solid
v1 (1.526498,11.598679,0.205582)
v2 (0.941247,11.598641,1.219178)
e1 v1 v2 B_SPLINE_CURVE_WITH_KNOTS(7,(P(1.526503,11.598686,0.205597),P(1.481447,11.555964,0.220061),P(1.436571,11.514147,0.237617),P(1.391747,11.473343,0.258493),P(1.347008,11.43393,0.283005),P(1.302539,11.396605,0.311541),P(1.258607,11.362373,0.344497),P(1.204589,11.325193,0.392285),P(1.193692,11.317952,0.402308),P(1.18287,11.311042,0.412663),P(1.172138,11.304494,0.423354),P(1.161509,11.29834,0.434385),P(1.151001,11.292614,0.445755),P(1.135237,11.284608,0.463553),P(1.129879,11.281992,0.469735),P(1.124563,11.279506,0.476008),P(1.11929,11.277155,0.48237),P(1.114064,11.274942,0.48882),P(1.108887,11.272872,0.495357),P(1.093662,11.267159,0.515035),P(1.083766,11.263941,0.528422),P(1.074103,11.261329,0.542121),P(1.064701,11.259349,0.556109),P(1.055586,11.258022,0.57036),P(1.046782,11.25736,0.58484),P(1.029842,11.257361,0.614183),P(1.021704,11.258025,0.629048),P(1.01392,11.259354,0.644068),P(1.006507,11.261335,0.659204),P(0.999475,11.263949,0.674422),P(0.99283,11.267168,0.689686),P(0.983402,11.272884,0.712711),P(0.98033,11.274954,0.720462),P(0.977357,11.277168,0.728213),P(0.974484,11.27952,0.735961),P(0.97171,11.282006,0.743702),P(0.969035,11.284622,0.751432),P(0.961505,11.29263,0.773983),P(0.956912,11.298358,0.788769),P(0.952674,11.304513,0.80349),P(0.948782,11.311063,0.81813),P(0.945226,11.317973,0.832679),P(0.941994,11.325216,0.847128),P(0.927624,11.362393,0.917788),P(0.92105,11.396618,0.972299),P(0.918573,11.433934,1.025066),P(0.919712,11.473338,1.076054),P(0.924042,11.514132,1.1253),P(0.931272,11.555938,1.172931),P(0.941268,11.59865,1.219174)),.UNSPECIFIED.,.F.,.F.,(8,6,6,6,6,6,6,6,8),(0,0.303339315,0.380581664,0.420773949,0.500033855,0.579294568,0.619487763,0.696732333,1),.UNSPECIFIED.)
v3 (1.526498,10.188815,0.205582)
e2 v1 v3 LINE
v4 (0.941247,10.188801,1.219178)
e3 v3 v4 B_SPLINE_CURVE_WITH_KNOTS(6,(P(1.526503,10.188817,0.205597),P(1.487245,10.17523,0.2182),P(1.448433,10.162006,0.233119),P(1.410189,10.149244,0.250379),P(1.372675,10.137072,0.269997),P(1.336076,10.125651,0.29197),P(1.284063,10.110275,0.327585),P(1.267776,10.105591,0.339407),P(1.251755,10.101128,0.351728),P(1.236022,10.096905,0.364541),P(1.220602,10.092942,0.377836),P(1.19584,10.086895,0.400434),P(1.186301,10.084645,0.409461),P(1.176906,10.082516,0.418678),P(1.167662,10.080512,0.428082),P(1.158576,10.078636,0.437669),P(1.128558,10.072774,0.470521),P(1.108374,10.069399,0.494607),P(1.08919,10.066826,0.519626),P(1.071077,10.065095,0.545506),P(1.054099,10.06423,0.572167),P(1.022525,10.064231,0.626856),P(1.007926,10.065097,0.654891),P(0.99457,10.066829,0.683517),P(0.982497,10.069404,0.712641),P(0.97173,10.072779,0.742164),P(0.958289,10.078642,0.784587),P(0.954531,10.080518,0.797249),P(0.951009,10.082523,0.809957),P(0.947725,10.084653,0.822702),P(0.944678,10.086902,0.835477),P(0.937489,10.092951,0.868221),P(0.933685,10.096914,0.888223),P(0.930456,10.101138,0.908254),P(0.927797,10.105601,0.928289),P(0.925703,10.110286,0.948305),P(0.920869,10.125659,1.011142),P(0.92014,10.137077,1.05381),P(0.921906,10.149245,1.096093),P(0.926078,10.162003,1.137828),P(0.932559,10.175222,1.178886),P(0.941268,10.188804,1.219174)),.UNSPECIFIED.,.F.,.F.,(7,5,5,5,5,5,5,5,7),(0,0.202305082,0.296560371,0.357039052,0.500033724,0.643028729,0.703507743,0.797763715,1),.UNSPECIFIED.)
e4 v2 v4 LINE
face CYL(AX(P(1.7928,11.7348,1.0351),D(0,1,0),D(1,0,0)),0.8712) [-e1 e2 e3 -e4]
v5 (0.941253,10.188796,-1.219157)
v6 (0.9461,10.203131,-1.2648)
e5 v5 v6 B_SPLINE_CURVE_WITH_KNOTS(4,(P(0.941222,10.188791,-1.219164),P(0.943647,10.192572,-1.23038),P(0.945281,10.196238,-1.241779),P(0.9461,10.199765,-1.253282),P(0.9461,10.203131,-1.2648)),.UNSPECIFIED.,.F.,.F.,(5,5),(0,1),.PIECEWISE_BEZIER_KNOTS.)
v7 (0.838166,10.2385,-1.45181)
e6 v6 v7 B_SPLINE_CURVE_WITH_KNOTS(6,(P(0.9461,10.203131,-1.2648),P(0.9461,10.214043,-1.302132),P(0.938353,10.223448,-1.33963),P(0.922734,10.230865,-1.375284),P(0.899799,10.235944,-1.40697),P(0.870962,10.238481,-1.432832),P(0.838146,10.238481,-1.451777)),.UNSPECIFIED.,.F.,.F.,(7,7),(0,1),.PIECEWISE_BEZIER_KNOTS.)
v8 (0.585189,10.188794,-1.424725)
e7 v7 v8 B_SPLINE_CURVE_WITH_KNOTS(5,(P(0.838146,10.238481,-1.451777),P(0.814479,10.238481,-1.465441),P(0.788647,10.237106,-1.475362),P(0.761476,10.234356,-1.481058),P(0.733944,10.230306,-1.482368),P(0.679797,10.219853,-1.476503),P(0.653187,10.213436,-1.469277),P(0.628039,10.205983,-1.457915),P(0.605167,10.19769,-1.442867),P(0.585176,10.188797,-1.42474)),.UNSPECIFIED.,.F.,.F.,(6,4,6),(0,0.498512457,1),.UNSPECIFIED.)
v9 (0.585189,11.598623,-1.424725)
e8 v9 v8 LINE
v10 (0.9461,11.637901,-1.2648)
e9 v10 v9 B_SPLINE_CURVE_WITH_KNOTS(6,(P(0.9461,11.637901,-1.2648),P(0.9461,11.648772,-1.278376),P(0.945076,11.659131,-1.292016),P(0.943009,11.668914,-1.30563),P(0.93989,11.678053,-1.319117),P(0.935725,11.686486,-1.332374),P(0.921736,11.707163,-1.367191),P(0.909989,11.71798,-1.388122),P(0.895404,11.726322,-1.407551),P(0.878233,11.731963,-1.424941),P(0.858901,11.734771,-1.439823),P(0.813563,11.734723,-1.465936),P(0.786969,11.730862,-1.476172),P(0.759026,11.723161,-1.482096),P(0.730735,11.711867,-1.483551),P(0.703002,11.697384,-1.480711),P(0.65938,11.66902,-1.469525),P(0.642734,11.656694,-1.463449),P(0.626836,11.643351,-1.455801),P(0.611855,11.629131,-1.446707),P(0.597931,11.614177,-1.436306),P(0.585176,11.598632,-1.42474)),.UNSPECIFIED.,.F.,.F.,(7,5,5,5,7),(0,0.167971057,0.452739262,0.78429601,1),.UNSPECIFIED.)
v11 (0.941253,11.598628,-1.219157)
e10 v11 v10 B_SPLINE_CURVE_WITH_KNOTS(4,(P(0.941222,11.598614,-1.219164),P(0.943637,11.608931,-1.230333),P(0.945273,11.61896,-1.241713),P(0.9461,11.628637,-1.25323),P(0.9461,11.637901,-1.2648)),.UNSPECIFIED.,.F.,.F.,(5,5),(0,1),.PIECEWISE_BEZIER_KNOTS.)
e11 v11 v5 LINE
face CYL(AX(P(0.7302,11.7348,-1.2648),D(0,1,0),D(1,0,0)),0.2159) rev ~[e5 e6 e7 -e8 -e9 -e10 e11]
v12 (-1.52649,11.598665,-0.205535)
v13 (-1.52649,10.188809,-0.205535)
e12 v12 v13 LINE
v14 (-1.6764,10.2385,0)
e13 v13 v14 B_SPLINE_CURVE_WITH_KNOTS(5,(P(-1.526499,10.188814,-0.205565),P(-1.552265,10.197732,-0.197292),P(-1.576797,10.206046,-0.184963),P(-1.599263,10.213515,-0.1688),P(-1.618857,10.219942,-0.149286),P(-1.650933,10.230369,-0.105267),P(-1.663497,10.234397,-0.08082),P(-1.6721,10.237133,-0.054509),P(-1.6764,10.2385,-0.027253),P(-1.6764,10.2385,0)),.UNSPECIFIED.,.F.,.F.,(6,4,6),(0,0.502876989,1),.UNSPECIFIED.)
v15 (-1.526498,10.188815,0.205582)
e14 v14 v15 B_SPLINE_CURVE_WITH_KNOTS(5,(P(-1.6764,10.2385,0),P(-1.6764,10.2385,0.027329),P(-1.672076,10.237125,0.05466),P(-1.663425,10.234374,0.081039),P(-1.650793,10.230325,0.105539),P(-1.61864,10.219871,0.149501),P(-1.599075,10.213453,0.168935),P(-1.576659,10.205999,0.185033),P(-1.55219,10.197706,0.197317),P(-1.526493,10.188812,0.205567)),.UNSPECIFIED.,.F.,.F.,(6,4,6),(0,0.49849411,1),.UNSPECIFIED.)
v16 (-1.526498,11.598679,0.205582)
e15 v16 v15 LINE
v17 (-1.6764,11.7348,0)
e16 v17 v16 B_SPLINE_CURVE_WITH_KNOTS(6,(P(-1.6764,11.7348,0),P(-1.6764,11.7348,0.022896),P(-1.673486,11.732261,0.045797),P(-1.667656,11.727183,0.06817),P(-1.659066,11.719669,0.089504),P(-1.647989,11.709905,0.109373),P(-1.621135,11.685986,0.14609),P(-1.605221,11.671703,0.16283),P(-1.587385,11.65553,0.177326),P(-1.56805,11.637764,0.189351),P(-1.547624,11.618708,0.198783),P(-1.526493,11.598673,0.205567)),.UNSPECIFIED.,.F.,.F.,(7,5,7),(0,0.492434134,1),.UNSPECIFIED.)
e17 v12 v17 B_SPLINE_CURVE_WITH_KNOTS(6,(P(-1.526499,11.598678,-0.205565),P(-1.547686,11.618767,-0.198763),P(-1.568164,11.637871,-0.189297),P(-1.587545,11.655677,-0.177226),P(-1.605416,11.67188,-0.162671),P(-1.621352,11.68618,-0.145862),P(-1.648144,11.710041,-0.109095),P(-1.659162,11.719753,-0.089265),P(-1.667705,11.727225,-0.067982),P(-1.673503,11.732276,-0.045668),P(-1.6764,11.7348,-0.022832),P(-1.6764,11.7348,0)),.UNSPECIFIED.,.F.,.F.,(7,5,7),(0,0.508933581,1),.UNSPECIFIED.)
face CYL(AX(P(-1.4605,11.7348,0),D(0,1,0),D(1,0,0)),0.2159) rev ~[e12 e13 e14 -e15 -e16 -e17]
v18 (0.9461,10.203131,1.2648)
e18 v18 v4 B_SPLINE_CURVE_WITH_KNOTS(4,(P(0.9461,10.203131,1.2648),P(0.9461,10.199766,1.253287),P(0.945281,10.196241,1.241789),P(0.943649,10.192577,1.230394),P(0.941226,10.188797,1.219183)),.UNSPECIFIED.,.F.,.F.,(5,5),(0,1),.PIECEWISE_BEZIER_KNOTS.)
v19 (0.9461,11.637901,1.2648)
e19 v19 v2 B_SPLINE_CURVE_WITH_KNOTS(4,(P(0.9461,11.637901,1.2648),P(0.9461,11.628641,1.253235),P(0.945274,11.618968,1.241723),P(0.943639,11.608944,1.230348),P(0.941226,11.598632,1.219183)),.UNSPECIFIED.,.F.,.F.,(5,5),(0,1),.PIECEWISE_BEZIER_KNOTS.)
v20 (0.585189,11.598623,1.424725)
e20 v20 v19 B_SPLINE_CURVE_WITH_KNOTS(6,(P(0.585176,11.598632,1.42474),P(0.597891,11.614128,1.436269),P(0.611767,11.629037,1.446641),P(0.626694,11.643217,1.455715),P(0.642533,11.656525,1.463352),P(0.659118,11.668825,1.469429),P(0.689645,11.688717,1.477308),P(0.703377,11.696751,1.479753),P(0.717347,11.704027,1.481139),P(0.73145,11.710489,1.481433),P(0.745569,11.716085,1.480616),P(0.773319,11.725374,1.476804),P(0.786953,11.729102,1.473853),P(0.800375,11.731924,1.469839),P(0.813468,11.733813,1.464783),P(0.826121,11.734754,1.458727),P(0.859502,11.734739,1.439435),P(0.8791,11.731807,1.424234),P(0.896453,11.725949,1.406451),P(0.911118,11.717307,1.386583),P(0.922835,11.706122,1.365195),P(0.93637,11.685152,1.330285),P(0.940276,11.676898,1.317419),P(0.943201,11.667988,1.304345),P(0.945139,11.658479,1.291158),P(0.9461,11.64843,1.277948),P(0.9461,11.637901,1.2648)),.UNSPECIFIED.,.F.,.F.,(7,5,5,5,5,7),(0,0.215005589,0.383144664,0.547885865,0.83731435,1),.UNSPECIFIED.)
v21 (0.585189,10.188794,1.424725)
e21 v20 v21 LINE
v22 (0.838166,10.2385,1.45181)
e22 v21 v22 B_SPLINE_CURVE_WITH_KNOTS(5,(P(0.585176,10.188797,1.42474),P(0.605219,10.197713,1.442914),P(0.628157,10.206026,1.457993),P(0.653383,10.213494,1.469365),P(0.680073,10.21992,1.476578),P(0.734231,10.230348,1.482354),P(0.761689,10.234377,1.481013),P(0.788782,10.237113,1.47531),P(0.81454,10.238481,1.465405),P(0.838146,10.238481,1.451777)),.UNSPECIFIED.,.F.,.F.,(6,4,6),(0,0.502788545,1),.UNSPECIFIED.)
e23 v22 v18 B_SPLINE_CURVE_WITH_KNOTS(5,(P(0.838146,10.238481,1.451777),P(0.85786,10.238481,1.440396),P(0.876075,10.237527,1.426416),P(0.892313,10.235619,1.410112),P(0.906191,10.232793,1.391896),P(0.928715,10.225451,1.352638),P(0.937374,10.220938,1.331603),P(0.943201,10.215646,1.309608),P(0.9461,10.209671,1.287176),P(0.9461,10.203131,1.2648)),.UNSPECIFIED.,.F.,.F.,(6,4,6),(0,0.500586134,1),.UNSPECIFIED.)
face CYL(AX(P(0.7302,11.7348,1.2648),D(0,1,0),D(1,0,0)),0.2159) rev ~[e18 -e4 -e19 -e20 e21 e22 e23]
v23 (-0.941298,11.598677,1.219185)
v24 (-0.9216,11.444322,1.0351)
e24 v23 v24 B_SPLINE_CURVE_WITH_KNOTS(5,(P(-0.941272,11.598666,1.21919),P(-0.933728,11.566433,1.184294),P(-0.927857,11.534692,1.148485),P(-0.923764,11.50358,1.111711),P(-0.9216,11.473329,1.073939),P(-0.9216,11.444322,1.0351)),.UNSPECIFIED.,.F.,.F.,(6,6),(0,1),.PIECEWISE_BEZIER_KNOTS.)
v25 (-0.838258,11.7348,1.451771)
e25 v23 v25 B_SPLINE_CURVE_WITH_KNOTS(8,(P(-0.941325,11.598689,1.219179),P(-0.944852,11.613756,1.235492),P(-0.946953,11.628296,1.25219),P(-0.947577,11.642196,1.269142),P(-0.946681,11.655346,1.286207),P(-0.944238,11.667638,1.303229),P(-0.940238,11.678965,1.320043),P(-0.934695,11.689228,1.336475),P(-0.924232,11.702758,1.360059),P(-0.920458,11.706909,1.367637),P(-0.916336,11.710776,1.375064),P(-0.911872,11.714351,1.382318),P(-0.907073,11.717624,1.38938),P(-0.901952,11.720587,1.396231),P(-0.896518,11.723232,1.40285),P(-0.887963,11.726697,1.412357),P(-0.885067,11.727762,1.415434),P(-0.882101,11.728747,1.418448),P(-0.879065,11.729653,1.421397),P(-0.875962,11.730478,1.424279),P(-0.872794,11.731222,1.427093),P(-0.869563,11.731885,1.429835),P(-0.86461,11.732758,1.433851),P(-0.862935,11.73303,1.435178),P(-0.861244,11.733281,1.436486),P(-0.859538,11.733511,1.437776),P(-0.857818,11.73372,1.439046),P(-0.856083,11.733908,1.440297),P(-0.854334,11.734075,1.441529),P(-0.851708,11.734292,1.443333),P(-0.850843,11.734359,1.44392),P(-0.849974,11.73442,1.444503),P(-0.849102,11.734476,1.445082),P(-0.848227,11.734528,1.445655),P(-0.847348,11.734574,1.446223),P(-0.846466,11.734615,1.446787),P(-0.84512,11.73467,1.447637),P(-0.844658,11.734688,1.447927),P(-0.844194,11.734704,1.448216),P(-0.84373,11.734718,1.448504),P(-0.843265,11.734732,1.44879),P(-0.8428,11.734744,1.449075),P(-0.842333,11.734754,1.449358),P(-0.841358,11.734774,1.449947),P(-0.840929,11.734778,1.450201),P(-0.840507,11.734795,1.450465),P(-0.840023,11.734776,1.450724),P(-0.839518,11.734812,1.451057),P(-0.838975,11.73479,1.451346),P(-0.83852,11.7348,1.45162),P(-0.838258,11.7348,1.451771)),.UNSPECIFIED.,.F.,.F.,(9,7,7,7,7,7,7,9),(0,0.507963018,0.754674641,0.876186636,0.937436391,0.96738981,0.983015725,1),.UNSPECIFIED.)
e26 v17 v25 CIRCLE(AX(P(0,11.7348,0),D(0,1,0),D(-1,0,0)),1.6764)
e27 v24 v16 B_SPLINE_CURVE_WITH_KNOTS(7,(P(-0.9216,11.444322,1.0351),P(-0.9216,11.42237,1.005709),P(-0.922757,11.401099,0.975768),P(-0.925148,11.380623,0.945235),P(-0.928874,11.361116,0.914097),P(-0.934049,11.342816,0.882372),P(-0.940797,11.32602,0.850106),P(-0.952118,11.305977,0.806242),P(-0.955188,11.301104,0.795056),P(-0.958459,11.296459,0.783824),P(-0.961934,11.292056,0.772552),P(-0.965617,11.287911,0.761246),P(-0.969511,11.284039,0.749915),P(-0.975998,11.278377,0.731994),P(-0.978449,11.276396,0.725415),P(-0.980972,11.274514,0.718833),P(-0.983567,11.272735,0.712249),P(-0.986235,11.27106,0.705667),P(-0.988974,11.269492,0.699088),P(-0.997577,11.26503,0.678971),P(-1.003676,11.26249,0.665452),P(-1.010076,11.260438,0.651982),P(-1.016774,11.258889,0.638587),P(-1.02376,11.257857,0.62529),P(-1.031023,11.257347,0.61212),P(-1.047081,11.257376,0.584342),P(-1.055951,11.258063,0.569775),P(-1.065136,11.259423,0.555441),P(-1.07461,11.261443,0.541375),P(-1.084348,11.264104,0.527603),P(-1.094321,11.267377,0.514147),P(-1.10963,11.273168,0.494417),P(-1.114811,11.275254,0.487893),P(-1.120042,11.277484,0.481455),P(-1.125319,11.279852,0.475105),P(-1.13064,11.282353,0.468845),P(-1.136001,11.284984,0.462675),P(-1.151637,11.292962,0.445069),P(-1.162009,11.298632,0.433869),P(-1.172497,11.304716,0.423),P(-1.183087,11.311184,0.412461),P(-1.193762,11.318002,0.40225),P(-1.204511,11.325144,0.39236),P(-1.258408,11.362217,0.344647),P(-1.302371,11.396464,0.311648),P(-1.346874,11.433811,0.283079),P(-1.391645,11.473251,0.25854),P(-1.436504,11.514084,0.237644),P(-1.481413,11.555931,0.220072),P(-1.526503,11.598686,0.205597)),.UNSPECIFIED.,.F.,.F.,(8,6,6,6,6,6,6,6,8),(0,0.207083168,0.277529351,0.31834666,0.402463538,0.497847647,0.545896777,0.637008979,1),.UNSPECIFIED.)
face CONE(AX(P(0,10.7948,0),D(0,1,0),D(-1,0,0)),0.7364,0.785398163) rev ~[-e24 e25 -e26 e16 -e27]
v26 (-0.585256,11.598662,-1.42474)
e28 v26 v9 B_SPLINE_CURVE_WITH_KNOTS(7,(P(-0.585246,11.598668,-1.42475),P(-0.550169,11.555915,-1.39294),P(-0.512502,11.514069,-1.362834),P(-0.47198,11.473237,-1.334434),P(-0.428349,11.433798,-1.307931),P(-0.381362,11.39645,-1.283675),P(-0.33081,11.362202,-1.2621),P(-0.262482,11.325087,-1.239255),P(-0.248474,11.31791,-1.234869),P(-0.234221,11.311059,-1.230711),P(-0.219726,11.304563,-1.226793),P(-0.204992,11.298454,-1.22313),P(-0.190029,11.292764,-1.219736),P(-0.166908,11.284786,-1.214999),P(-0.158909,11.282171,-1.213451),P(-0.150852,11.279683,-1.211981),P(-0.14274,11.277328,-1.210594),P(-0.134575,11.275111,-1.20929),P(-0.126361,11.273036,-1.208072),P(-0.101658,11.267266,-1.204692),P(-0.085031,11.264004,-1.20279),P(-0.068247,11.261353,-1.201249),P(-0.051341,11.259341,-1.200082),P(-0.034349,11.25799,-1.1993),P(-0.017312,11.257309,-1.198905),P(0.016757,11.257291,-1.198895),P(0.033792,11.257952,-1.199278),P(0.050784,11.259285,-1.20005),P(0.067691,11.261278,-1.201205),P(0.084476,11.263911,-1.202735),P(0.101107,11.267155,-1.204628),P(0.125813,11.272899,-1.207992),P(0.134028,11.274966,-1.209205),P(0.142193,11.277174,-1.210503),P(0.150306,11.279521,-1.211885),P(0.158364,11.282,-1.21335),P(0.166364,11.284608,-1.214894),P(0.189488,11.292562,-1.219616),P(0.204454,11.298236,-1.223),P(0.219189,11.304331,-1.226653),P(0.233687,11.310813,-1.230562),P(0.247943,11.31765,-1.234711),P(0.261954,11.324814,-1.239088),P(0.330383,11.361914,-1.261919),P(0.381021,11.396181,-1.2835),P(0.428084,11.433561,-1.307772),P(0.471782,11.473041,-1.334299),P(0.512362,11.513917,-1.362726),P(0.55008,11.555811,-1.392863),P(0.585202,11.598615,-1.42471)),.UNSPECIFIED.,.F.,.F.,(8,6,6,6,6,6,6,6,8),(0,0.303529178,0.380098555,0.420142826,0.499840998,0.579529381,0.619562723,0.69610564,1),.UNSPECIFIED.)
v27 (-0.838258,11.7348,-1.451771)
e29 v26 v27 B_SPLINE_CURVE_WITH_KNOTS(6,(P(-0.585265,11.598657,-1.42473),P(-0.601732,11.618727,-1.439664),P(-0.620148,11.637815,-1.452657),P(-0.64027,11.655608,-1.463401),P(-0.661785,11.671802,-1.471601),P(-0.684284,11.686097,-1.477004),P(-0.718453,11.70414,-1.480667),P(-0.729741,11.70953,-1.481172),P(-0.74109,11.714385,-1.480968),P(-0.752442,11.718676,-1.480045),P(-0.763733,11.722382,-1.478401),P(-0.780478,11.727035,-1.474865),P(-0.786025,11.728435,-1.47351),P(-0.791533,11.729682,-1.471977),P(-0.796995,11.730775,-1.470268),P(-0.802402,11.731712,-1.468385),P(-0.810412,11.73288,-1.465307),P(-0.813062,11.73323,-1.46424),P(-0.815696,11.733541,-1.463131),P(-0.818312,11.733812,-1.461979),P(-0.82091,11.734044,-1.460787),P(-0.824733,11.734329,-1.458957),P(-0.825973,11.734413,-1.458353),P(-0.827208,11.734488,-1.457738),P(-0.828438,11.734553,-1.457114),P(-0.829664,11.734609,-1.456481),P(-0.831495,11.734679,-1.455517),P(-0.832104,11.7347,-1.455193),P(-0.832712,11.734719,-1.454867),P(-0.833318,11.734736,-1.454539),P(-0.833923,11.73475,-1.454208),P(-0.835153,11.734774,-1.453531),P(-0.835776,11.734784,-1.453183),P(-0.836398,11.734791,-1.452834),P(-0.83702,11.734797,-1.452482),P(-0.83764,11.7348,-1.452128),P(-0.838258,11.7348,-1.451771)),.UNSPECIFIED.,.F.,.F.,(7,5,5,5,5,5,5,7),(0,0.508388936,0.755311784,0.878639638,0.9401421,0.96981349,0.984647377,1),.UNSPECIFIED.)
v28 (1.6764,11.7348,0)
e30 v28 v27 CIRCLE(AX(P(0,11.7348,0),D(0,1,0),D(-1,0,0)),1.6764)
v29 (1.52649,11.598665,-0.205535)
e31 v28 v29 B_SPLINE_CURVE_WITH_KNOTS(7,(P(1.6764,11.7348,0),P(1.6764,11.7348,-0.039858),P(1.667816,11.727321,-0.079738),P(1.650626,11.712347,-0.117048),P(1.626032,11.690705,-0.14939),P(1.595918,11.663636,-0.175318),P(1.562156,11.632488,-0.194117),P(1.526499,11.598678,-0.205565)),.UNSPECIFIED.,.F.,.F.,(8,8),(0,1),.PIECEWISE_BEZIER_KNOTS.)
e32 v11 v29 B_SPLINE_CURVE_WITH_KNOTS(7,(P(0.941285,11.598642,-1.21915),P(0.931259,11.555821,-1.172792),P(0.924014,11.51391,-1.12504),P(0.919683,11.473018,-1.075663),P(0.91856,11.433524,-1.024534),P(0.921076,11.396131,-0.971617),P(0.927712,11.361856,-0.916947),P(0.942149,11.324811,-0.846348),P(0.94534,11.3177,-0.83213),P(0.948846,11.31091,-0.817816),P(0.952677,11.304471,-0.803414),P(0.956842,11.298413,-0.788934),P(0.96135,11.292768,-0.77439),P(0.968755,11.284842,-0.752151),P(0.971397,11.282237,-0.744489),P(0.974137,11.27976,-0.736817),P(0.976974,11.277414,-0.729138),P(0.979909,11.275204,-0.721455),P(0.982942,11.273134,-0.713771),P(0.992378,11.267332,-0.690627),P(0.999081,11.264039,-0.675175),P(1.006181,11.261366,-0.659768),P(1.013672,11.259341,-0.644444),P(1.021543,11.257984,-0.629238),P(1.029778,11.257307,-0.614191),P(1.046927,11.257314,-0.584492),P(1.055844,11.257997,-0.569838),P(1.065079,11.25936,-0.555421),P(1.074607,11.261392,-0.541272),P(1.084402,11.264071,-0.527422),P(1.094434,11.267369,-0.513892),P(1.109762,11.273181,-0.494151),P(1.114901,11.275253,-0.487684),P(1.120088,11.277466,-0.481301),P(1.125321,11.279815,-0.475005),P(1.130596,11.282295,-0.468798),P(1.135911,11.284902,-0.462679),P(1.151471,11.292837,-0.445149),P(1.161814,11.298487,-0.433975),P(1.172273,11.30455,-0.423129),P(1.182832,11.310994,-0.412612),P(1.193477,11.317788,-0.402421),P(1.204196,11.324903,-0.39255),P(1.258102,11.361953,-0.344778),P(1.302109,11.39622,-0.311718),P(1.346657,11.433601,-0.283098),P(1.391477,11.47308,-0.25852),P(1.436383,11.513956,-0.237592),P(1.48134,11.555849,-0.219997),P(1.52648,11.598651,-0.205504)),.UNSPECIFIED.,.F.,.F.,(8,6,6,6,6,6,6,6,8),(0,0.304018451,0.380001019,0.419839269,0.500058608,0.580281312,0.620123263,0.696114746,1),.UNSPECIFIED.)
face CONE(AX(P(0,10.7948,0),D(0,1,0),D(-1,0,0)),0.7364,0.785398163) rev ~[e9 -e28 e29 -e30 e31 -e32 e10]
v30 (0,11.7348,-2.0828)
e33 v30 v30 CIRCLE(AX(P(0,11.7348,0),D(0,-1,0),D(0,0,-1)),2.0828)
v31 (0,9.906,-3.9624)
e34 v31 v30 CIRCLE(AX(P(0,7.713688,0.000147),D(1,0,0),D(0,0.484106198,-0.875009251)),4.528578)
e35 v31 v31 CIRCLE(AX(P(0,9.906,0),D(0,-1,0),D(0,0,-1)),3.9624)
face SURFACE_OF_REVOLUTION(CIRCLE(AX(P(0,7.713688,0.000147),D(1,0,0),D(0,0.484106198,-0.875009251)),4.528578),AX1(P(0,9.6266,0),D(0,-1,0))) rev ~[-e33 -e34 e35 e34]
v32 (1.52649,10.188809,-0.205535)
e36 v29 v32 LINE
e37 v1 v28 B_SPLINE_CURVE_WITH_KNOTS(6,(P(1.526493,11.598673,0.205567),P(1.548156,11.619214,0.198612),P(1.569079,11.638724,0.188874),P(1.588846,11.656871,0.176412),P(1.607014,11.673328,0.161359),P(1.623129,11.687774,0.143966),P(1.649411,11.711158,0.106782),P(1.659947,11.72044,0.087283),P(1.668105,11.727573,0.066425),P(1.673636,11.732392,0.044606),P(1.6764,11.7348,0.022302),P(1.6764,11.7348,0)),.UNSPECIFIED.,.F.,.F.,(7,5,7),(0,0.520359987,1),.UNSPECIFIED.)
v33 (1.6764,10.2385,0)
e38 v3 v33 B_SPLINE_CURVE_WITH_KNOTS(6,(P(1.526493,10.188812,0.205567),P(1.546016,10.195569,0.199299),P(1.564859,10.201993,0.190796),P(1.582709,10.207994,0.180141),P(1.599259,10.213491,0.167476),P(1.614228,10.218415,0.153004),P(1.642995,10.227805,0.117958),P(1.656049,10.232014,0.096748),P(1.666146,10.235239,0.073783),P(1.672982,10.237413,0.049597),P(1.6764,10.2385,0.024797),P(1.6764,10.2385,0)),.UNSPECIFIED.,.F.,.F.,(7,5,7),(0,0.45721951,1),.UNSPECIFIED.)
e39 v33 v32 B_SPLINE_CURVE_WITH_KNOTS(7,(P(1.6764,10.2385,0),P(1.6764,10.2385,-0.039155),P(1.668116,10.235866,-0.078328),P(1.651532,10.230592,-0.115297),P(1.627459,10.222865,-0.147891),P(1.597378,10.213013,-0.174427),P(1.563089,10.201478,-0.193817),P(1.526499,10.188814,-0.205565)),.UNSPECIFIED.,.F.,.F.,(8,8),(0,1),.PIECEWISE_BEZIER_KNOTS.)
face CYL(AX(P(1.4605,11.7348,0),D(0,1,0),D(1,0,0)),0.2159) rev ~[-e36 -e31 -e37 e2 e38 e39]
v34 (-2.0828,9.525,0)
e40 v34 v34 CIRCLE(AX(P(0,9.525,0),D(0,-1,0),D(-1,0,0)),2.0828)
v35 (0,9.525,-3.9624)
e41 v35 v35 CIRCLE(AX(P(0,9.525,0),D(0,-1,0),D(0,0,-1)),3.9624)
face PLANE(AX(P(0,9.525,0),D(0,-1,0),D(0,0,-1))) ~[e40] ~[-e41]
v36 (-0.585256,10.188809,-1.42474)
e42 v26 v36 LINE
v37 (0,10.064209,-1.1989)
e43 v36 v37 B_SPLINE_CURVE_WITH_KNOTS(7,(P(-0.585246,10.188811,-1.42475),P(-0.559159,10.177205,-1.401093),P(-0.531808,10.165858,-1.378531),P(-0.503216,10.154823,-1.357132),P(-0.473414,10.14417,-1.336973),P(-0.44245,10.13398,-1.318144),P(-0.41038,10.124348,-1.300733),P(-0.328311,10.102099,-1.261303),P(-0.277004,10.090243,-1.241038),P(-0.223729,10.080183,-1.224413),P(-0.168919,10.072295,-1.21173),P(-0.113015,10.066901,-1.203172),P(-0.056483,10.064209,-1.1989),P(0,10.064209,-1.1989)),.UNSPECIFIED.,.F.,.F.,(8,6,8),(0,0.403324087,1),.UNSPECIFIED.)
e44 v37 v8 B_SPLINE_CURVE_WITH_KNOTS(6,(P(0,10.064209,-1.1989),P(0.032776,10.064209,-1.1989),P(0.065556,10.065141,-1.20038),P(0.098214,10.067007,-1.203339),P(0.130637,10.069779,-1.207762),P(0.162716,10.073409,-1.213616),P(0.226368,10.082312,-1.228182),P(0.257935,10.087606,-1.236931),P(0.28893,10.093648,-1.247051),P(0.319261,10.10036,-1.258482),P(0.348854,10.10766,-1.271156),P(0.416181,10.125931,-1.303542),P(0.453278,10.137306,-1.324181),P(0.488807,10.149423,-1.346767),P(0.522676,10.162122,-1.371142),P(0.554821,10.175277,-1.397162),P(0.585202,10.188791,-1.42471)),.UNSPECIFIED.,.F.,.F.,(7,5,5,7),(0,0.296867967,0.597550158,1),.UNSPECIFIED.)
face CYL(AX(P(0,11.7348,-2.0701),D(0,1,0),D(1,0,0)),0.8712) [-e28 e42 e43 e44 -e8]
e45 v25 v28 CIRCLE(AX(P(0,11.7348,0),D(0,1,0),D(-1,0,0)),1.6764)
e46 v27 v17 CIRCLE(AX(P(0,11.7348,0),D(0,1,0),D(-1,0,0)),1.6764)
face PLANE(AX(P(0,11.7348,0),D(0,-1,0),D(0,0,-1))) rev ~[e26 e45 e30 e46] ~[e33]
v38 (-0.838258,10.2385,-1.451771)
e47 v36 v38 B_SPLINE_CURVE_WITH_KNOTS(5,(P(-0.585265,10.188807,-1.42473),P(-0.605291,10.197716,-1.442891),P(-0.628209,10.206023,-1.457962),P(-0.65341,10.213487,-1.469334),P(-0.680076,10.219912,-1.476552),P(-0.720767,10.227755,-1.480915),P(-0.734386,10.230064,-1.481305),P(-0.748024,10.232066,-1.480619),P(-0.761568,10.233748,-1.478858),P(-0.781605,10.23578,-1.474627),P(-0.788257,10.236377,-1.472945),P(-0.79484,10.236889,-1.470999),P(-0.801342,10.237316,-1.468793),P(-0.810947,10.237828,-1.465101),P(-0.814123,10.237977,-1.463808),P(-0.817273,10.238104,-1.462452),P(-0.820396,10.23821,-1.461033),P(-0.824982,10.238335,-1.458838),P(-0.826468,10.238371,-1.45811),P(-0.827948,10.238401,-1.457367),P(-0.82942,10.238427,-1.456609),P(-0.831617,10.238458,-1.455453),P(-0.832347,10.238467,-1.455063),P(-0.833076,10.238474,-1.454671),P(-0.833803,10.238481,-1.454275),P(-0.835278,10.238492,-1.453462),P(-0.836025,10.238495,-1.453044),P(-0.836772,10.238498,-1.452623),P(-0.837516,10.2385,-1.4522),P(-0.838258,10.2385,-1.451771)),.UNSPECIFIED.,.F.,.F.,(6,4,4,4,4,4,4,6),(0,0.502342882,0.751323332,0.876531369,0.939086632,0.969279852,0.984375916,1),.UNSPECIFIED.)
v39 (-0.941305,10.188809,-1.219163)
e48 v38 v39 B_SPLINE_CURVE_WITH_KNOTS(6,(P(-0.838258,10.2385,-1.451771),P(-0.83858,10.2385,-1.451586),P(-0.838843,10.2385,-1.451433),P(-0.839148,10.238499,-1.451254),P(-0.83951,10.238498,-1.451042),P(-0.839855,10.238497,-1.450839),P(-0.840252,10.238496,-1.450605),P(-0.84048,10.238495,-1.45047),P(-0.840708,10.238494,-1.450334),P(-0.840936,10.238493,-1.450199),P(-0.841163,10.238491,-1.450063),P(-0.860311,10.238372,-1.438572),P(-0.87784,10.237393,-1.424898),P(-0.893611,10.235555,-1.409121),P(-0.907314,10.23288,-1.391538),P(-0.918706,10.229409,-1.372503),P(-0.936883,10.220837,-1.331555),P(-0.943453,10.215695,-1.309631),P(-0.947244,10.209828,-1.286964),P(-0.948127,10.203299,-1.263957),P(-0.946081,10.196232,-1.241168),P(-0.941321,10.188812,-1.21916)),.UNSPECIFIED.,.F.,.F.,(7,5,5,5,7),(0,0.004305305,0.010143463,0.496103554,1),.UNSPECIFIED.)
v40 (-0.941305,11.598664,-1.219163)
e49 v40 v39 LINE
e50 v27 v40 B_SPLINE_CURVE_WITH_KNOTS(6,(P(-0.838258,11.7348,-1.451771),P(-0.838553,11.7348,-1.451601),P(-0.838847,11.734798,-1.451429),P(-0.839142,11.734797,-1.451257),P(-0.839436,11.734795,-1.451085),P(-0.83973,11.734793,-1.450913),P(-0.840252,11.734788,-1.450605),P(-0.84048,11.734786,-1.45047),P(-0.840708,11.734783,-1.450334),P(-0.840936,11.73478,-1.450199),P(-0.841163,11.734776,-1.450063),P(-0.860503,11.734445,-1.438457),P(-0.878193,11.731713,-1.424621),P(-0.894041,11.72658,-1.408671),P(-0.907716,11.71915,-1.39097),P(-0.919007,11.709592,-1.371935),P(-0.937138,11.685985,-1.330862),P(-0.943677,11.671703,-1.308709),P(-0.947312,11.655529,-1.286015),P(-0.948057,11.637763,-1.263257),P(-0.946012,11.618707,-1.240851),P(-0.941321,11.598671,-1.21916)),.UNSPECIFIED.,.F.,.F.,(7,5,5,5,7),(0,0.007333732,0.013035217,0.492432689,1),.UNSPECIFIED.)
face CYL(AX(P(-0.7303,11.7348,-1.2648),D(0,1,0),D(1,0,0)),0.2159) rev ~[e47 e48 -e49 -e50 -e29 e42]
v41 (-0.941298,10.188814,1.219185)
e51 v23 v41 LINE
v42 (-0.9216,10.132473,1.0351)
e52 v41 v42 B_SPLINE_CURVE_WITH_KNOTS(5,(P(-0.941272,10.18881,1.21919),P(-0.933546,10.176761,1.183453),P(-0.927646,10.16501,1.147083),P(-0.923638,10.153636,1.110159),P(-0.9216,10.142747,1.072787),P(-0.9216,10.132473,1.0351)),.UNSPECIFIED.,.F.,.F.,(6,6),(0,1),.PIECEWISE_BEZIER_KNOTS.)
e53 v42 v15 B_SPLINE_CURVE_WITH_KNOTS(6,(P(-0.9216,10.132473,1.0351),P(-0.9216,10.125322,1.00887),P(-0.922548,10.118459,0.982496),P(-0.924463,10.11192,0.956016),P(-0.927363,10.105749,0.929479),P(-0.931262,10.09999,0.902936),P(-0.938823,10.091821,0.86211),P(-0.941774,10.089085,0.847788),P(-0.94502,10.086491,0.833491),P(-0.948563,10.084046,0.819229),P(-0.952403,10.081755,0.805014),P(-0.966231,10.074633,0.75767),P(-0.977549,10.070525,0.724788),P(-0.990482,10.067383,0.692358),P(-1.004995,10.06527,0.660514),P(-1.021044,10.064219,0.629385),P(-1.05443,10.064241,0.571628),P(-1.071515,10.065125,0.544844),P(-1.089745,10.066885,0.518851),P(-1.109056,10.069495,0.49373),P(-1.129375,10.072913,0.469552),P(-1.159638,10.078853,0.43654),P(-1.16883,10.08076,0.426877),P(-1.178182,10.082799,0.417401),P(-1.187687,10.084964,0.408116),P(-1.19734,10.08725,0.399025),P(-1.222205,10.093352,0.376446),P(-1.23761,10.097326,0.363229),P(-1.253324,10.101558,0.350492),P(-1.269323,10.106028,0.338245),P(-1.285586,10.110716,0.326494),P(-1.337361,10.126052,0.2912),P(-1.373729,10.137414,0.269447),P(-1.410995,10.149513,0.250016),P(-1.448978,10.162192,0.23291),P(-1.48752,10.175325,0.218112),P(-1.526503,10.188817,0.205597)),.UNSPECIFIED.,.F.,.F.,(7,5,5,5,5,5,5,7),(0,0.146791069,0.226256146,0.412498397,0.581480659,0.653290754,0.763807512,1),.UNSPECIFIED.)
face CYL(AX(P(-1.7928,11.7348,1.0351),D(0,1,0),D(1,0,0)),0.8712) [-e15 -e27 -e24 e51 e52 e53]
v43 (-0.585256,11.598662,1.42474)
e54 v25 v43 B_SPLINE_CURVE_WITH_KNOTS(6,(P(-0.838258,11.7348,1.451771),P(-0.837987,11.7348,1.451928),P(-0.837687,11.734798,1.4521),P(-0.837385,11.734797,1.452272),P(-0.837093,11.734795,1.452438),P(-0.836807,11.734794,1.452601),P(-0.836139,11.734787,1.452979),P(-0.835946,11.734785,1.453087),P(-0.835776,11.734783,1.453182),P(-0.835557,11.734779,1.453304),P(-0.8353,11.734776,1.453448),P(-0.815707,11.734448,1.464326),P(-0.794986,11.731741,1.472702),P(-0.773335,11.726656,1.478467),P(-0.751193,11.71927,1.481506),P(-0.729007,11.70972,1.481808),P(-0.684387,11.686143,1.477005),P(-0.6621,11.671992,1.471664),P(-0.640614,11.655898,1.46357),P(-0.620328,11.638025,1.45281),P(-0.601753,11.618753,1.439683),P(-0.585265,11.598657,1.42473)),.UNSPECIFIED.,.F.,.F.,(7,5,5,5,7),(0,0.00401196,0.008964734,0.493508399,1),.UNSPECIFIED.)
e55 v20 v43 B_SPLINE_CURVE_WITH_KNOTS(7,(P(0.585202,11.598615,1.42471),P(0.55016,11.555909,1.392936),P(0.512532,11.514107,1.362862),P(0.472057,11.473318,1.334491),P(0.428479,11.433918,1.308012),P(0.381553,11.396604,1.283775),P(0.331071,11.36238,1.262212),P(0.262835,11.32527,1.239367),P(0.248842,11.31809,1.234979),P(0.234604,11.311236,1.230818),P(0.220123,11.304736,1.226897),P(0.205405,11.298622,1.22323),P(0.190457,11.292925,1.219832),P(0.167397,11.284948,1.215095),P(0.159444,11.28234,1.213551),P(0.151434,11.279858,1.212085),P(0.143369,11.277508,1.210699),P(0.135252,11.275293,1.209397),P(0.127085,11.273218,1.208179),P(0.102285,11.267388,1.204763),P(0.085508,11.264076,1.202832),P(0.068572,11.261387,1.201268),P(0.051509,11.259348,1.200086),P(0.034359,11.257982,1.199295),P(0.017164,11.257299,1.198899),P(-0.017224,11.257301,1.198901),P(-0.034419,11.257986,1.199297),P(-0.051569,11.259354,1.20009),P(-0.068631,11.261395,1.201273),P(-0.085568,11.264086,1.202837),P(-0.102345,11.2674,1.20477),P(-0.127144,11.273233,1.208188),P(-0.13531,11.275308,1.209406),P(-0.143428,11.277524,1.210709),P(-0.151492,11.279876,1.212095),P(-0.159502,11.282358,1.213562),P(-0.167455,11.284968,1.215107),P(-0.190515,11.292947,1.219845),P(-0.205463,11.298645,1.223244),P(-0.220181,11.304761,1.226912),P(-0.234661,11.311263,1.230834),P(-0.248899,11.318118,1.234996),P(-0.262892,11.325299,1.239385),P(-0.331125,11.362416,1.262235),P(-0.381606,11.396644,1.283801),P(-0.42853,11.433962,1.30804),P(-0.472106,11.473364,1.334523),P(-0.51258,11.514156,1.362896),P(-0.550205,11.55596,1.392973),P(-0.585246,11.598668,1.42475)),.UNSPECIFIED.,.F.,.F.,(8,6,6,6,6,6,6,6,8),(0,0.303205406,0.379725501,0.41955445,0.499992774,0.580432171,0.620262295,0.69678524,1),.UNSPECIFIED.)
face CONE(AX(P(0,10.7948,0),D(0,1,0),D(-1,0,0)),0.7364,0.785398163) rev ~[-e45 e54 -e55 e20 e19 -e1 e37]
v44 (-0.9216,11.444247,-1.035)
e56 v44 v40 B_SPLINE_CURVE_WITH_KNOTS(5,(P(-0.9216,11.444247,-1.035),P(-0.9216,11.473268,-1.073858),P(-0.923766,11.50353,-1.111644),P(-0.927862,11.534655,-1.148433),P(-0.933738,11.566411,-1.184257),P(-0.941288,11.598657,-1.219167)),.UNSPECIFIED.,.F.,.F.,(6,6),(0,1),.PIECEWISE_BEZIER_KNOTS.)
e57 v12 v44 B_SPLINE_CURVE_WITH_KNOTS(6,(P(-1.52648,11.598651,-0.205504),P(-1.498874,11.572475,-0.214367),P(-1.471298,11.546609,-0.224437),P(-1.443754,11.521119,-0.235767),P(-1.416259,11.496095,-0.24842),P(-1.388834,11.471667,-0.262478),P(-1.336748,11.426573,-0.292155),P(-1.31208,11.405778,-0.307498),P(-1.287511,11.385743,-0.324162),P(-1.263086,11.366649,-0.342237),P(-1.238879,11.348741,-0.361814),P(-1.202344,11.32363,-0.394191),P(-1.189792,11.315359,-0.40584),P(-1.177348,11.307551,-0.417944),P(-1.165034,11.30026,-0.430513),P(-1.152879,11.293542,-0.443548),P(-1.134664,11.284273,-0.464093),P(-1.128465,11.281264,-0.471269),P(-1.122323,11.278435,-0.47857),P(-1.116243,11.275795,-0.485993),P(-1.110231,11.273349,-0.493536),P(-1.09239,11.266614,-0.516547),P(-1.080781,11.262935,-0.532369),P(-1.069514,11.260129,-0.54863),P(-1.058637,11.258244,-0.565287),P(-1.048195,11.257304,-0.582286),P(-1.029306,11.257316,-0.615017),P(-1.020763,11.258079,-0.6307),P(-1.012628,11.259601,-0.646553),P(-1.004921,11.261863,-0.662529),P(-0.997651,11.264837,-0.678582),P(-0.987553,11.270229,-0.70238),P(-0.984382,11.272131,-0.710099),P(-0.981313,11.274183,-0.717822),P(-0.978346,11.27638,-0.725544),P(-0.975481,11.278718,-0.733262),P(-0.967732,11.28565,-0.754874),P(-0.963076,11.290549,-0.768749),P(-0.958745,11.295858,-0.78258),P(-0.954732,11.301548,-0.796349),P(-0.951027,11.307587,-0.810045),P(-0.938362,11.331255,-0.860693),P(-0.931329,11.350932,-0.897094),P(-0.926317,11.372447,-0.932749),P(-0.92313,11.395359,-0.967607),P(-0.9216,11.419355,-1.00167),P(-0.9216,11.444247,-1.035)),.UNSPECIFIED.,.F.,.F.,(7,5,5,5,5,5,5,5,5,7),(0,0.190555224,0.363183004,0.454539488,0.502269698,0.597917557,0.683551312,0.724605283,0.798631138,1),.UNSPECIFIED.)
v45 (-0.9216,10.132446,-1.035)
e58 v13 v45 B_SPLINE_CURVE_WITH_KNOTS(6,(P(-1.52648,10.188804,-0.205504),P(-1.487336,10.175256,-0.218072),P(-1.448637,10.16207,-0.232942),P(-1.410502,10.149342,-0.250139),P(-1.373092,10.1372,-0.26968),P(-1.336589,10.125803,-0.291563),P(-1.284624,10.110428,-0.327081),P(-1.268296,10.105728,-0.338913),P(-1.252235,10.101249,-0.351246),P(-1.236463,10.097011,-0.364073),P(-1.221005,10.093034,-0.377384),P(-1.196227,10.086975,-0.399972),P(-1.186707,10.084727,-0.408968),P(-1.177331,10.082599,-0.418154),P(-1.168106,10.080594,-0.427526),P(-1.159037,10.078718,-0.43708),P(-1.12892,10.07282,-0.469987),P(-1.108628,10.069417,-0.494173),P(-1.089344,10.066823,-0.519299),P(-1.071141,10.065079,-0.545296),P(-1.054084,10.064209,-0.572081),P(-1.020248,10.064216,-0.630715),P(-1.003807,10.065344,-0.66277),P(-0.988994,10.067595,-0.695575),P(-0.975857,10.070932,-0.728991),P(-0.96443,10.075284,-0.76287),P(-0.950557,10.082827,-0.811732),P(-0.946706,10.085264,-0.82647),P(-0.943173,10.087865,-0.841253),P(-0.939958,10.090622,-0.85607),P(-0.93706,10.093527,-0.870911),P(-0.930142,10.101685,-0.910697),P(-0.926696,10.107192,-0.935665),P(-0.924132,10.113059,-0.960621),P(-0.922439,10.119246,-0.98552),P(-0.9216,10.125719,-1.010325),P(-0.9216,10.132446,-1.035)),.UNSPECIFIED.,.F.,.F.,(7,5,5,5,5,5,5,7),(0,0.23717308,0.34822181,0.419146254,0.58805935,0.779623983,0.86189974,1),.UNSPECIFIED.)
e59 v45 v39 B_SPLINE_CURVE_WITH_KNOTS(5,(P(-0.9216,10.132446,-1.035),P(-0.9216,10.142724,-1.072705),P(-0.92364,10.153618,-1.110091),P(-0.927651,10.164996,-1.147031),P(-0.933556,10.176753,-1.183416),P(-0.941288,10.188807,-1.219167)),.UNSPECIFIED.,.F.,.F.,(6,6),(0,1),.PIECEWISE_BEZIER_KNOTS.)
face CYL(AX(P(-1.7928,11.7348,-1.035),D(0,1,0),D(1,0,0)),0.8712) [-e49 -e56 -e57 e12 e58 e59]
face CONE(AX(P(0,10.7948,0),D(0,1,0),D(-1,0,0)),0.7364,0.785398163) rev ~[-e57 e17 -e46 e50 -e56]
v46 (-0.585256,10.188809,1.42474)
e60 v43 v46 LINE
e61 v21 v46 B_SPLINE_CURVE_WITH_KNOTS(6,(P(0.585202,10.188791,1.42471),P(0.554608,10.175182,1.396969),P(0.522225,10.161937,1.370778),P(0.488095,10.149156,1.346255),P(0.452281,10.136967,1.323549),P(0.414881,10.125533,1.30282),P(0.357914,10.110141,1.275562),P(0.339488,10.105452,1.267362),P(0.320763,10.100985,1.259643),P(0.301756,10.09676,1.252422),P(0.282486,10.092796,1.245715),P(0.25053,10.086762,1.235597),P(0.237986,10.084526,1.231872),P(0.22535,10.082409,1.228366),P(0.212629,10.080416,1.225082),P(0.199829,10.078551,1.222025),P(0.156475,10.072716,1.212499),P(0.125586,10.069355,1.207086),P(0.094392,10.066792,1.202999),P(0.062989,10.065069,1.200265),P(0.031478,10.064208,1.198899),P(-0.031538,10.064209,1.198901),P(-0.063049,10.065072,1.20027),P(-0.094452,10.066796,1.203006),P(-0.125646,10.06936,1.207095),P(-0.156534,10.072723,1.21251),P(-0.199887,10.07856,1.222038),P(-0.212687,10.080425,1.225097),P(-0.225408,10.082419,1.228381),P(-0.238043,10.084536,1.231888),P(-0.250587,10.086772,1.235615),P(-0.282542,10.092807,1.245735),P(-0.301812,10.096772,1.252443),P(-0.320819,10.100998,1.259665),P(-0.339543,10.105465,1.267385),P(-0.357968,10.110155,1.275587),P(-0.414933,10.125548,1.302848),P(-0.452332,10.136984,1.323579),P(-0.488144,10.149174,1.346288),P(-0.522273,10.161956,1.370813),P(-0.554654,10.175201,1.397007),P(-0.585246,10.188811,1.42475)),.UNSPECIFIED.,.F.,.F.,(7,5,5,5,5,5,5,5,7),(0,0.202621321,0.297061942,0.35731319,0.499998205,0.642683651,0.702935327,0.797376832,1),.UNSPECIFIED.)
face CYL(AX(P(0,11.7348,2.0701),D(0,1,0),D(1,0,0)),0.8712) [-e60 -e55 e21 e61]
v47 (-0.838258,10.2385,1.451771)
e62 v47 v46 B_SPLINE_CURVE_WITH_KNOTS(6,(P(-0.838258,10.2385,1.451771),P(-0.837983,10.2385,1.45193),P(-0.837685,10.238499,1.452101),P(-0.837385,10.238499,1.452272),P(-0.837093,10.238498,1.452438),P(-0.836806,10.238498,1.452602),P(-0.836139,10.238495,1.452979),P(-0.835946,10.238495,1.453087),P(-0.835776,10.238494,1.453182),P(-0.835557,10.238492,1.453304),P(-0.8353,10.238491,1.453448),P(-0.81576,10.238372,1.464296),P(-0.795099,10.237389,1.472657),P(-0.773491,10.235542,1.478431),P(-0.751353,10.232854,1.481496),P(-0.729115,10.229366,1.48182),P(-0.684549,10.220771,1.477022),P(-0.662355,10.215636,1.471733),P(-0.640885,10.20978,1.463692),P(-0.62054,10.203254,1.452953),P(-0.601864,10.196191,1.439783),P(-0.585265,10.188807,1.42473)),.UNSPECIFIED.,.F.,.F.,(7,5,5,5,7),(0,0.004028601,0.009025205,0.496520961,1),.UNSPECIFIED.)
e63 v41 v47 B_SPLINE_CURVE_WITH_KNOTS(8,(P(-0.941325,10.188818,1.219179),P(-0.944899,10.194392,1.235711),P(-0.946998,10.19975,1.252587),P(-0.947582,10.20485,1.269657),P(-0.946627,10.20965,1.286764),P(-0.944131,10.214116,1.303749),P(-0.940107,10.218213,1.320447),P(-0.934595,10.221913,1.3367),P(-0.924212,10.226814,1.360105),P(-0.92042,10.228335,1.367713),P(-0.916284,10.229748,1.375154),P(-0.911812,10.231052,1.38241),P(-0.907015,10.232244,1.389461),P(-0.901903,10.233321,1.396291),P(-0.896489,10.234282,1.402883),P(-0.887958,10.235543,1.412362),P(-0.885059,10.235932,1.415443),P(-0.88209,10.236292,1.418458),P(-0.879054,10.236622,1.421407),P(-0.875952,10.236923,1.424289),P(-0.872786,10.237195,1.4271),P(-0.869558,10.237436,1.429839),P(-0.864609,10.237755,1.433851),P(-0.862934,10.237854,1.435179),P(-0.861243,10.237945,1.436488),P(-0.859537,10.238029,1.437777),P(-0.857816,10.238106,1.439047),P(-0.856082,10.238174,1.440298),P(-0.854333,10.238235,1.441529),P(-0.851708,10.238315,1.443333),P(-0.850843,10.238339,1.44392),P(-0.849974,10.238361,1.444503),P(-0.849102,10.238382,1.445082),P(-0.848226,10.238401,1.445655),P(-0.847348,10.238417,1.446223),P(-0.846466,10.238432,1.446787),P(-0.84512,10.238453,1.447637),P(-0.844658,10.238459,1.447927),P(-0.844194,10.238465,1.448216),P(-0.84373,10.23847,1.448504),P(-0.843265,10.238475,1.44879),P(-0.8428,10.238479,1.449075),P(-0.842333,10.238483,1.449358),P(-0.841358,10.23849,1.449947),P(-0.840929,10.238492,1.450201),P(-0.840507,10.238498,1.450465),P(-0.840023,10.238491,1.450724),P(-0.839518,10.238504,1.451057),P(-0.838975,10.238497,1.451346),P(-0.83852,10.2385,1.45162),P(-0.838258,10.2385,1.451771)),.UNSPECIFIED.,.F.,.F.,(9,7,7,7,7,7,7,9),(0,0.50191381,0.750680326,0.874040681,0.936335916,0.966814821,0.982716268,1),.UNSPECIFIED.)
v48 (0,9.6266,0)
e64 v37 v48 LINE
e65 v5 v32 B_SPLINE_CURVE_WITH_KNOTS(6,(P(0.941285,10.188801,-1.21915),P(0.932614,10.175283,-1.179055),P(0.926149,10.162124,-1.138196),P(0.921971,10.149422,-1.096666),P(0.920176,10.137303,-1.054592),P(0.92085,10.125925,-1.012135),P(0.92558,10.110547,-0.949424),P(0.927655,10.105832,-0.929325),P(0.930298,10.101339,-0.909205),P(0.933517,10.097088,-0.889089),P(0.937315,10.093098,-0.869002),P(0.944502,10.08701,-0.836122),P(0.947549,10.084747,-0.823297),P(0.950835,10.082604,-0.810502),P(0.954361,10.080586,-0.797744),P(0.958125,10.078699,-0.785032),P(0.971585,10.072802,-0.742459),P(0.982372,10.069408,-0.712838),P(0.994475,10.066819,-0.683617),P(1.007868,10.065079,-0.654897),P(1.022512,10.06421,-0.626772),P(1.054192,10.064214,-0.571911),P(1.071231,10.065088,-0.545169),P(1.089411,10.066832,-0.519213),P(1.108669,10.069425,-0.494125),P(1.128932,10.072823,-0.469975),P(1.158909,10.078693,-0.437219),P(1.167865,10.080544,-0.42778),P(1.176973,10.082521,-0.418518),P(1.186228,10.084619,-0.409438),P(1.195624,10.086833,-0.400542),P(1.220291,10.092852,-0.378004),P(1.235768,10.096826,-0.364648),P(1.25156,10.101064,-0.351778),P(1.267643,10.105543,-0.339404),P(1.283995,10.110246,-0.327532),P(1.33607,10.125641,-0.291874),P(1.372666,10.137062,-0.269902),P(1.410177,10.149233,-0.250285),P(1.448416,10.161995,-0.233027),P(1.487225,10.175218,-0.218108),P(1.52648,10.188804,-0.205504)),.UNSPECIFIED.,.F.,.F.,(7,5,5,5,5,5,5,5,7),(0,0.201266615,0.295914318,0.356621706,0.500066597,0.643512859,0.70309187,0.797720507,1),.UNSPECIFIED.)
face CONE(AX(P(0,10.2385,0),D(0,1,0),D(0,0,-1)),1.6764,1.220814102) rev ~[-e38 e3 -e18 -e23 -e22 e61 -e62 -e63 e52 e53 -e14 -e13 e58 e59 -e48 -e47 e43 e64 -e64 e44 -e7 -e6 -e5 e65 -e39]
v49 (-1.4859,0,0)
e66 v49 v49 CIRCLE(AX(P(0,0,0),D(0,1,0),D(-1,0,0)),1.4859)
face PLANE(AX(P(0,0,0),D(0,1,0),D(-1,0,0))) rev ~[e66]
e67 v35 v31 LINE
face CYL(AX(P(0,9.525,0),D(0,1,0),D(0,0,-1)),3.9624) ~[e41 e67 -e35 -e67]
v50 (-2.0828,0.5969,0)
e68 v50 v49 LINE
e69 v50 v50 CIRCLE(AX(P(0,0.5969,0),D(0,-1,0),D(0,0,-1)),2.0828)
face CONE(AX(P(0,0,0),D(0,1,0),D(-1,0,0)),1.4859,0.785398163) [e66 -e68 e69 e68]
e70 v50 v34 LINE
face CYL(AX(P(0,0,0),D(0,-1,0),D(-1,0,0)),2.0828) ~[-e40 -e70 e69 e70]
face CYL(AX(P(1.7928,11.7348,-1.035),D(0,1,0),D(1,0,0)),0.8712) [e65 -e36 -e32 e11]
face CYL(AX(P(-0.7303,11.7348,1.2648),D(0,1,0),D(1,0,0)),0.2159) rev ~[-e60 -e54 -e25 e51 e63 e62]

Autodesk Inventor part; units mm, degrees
ref_plane "YZ Plane" through (0, 0, 0) normal (1, 0, 0) x (0, 1, 0)
ref_plane "XZ Plane" through (0, 0, 0) normal (0, 1, 0) x (-1, 0, 0)
ref_plane "XY Plane" through (0, 0, 0) normal (0, 0, 1) x (1, 0, 0)
sketch "Sketch1" plane through (0, 0, 0) normal (0, 1, 0) x (-1, 0, 0)
  circle A0 centre (0, 0) radius 2.0828
  dimension "d4" = 4.1656
extrude "Body" add sketch "Sketch1" along normal blind 9.525
sketch "Sketch2" plane through (0, 0, 0) normal (1, 0, 0) x (0, 1, 0)
  line L0 (9.525, -2.0828) -> (9.525, 2.0828) projected
  line L1 (9.525, 0) -> (9.525, -3.9624)
  line L2 (9.525, -3.9624) -> (9.906, -3.9624)
  arc A0 (9.906, -3.9624) -> (11.7348, -2.0828) centre (7.7138, 0) ccw
  line L3 (11.7348, -2.0828) -> (11.7348, -1.6764)
  line L4 (11.7348, -1.6764) -> (10.2385, -1.6764)
  line L5 (10.2385, -1.6764) -> (9.6266, 0)
  line L6 (9.6266, 0) -> (9.525, 0)
  point P0 (0, 0)
  dimension "d5" = 3.9624
  dimension "d6" = 0.381
  dimension "d13" = 0.1016
  dimension "d14" = 2.0828
  dimension "d15" = 2.2098
  dimension "d16" = 0
  dimension "d17" = 1.6764
  dimension "d57" = 20.053
revolve "Head" add sketch "Sketch2" angle 360 about axis through (0, 9.6266, 0) along (0, -1, 0)
sketch "Sketch3" plane through (0, 11.7348, 0) normal (0, 1, 0) x (1, 0, 0)
  circle A0 centre (0, 0) radius 1.6764 projected
  line L0 (0.7302, -1.2648) -> (-0.7303, -1.2648) construction
  line L1 (-0.7303, -1.2648) -> (-1.4605, 0) construction
  line L2 (-1.4605, 0) -> (-0.7303, 1.2648) construction
  line L3 (-0.7303, 1.2648) -> (0.7302, 1.2648) construction
  line L4 (0.7302, 1.2648) -> (1.4605, 0) construction
  line L5 (1.4605, 0) -> (0.7302, -1.2648) construction
  circle A1 centre (-0.7303, -1.2648) radius 0.2159
  circle A2 centre (-1.4605, 0) radius 0.2159
  circle A3 centre (-0.7303, 1.2648) radius 0.2159
  circle A4 centre (0.7302, 1.2648) radius 0.2159
  circle A5 centre (1.4605, 0) radius 0.2159
  circle A6 centre (0.7302, -1.2648) radius 0.2159
  circle A7 centre (0, -2.0701) radius 0.8712
  circle A8 centre (0, 2.0701) radius 0.8712
  circle A9 centre (1.7928, -1.0351) radius 0.8712
  circle A10 centre (-1.7928, 1.035) radius 0.8712
  circle A11 centre (1.7928, 1.035) radius 0.8712
  circle A12 centre (-1.7928, -1.0351) radius 0.8712
  circle A13 centre (0, 0) radius 1.8188
  point P0 (0, 0)
  point P1 (0, 0)
  point P2 (0.9413, 1.2192)
  point P3 (1.5265, 0.2056)
  point P4 (1.5265, -0.2056)
  point P5 (0.9413, -1.2192)
  point P6 (0.5852, -1.4248)
  point P7 (-0.5852, -1.4248)
  point P8 (-0.9413, -1.2192)
  point P9 (-1.5265, -0.2056)
  point P10 (-1.5265, 0.2056)
  point P11 (-0.9413, 1.2192)
  point P12 (-0.5852, 1.4248)
  point P13 (0.5852, 1.4248)
  dimension "d58" = 2.921
  dimension "d59" = 4.1402
  dimension "d62" = 120
extrude "Hex" add sketch "Sketch3" against normal blind 1.778 contours A5 A11 A0 | A0 A11 A13 A9 | A0 A9 A5 | A11 A0 | A0 A11 A13 | A9 A13 A0 | A0 A9 | A11 A4 A0 | A0 A8 A13 A11 | A9 A13 A7 A0 | A0 A6 A9 | A4 A8 A0 | A0 A7 A6 | A8 A0 | A7 A0 | A0 A8 A13 | A7 A13 A0 | A3 A0 A8 | A7 A0 A1 | A0 A10 A13 A8 | A7 A13 A12 A0 | A3 A10 A0 | A0 A12 A1 | A10 A0 A13 | A13 A12 A0 | A10 A0 | A0 A12 | A10 A0 A12 A13 | A10 A2 A0 | A0 A2 A12
sketch "Sketch4" plane through (0, 0, 0) normal (0, 0, 1) x (1, 0, 0)
  line L0 (-0.7364, 10.7948) -> (-1.6764, 11.7348)
  line L1 (0, 11.7348) -> (-0.7364, 10.7948)
  line L2 (0, -1.712) -> (0, 10.2718) projected
  line L3 (-1.5265, 11.7348) -> (-1.5265, 10.1888) projected
  line L4 (-1.5265, 11.7348) -> (-1.5265, 11.7348) projected
  line L5 (-1.5265, 11.7348) -> (-1.5265, 10.1888) projected
  line L6 (-1.6764, 11.7348) -> (-1.5265, 11.7348) projected
  line L7 (-1.6764, 11.7348) -> (0, 11.7348)
  point P0 (0, 0)
  point P1 (-1.6764, 10.2385)
  dimension "d29" = 1.6764
revolve "Head Chamfer" cut sketch "Sketch4" angle 360 about axis through (0, -10, 0) along (0, 1, 0)
sketch "Sketch5" plane through (0, 0, 0) normal (1, 0, 0) x (0, 1, 0)
  line L0 (0, -2.0828) -> (9.525, -2.0828) projected
  line L1 (9.525, 3.9624) -> (9.525, -3.9624) projected
  line L2 (9.525, -2.0828) -> (9.525, 2.0828) projected
  line L3 (0.0745, -2.0828) -> (-0.2261, -2.6035)
  line L4 (-0.2261, -2.6035) -> (-0.3253, -2.6035)
  line L5 (-0.3253, -2.6035) -> (-0.626, -2.0828)
  line L6 (0.0686, -2.6035) -> (-0.7252, -2.6035) construction
  line L7 (-0.626, -2.0828) -> (0.0745, -2.0828)
  line L8 (0, -2.0828) -> (9.525, -2.0828) projected
  point P0 (0, 0)
  dimension "d31" = 30
  dimension "d32" = 60
  dimension "a" = 0.0992
  dimension "d46" = 0.7937
  dimension "d54" = 0.0686
  dimension "d55" = 0.5207
  dimension "d56" = 0.0992
feature "Thread" [suppressed]
sketch "Sketch6" plane through (0, 0, 0) normal (0, 0, 1) x (1, 0, 0)
  line L0 (0, 0) -> (-1.4859, 0)
  line L1 (2.0828, 0) -> (-2.0828, 0) projected
  line L2 (-1.4859, 0) -> (-2.4948, 1.0089)
  line L3 (-2.4948, 1.0089) -> (-2.9651, -1.2188)
  line L4 (-2.9651, -1.2188) -> (-1.4859, -1.2188)
  line L5 (-2.0828, 0) -> (-2.0828, 9.525) projected
  line L6 (-1.4859, -1.2188) -> (-1.4859, 0)
  line L7 (0, -2.7326) -> (0, 7.8638) projected
  point P0 (-2.0828, 0.5969)
  dimension "d49" = 1.4859
  dimension "d50" = 135
revolve "Tapered End" cut sketch "Sketch6" angle 360 about axis through (0, -10, 0) along (0, 1, 0)
equation "\"d56\" = a"
properties part number "Screw 8-32 Steel 2.500" material "VEX Steel"
